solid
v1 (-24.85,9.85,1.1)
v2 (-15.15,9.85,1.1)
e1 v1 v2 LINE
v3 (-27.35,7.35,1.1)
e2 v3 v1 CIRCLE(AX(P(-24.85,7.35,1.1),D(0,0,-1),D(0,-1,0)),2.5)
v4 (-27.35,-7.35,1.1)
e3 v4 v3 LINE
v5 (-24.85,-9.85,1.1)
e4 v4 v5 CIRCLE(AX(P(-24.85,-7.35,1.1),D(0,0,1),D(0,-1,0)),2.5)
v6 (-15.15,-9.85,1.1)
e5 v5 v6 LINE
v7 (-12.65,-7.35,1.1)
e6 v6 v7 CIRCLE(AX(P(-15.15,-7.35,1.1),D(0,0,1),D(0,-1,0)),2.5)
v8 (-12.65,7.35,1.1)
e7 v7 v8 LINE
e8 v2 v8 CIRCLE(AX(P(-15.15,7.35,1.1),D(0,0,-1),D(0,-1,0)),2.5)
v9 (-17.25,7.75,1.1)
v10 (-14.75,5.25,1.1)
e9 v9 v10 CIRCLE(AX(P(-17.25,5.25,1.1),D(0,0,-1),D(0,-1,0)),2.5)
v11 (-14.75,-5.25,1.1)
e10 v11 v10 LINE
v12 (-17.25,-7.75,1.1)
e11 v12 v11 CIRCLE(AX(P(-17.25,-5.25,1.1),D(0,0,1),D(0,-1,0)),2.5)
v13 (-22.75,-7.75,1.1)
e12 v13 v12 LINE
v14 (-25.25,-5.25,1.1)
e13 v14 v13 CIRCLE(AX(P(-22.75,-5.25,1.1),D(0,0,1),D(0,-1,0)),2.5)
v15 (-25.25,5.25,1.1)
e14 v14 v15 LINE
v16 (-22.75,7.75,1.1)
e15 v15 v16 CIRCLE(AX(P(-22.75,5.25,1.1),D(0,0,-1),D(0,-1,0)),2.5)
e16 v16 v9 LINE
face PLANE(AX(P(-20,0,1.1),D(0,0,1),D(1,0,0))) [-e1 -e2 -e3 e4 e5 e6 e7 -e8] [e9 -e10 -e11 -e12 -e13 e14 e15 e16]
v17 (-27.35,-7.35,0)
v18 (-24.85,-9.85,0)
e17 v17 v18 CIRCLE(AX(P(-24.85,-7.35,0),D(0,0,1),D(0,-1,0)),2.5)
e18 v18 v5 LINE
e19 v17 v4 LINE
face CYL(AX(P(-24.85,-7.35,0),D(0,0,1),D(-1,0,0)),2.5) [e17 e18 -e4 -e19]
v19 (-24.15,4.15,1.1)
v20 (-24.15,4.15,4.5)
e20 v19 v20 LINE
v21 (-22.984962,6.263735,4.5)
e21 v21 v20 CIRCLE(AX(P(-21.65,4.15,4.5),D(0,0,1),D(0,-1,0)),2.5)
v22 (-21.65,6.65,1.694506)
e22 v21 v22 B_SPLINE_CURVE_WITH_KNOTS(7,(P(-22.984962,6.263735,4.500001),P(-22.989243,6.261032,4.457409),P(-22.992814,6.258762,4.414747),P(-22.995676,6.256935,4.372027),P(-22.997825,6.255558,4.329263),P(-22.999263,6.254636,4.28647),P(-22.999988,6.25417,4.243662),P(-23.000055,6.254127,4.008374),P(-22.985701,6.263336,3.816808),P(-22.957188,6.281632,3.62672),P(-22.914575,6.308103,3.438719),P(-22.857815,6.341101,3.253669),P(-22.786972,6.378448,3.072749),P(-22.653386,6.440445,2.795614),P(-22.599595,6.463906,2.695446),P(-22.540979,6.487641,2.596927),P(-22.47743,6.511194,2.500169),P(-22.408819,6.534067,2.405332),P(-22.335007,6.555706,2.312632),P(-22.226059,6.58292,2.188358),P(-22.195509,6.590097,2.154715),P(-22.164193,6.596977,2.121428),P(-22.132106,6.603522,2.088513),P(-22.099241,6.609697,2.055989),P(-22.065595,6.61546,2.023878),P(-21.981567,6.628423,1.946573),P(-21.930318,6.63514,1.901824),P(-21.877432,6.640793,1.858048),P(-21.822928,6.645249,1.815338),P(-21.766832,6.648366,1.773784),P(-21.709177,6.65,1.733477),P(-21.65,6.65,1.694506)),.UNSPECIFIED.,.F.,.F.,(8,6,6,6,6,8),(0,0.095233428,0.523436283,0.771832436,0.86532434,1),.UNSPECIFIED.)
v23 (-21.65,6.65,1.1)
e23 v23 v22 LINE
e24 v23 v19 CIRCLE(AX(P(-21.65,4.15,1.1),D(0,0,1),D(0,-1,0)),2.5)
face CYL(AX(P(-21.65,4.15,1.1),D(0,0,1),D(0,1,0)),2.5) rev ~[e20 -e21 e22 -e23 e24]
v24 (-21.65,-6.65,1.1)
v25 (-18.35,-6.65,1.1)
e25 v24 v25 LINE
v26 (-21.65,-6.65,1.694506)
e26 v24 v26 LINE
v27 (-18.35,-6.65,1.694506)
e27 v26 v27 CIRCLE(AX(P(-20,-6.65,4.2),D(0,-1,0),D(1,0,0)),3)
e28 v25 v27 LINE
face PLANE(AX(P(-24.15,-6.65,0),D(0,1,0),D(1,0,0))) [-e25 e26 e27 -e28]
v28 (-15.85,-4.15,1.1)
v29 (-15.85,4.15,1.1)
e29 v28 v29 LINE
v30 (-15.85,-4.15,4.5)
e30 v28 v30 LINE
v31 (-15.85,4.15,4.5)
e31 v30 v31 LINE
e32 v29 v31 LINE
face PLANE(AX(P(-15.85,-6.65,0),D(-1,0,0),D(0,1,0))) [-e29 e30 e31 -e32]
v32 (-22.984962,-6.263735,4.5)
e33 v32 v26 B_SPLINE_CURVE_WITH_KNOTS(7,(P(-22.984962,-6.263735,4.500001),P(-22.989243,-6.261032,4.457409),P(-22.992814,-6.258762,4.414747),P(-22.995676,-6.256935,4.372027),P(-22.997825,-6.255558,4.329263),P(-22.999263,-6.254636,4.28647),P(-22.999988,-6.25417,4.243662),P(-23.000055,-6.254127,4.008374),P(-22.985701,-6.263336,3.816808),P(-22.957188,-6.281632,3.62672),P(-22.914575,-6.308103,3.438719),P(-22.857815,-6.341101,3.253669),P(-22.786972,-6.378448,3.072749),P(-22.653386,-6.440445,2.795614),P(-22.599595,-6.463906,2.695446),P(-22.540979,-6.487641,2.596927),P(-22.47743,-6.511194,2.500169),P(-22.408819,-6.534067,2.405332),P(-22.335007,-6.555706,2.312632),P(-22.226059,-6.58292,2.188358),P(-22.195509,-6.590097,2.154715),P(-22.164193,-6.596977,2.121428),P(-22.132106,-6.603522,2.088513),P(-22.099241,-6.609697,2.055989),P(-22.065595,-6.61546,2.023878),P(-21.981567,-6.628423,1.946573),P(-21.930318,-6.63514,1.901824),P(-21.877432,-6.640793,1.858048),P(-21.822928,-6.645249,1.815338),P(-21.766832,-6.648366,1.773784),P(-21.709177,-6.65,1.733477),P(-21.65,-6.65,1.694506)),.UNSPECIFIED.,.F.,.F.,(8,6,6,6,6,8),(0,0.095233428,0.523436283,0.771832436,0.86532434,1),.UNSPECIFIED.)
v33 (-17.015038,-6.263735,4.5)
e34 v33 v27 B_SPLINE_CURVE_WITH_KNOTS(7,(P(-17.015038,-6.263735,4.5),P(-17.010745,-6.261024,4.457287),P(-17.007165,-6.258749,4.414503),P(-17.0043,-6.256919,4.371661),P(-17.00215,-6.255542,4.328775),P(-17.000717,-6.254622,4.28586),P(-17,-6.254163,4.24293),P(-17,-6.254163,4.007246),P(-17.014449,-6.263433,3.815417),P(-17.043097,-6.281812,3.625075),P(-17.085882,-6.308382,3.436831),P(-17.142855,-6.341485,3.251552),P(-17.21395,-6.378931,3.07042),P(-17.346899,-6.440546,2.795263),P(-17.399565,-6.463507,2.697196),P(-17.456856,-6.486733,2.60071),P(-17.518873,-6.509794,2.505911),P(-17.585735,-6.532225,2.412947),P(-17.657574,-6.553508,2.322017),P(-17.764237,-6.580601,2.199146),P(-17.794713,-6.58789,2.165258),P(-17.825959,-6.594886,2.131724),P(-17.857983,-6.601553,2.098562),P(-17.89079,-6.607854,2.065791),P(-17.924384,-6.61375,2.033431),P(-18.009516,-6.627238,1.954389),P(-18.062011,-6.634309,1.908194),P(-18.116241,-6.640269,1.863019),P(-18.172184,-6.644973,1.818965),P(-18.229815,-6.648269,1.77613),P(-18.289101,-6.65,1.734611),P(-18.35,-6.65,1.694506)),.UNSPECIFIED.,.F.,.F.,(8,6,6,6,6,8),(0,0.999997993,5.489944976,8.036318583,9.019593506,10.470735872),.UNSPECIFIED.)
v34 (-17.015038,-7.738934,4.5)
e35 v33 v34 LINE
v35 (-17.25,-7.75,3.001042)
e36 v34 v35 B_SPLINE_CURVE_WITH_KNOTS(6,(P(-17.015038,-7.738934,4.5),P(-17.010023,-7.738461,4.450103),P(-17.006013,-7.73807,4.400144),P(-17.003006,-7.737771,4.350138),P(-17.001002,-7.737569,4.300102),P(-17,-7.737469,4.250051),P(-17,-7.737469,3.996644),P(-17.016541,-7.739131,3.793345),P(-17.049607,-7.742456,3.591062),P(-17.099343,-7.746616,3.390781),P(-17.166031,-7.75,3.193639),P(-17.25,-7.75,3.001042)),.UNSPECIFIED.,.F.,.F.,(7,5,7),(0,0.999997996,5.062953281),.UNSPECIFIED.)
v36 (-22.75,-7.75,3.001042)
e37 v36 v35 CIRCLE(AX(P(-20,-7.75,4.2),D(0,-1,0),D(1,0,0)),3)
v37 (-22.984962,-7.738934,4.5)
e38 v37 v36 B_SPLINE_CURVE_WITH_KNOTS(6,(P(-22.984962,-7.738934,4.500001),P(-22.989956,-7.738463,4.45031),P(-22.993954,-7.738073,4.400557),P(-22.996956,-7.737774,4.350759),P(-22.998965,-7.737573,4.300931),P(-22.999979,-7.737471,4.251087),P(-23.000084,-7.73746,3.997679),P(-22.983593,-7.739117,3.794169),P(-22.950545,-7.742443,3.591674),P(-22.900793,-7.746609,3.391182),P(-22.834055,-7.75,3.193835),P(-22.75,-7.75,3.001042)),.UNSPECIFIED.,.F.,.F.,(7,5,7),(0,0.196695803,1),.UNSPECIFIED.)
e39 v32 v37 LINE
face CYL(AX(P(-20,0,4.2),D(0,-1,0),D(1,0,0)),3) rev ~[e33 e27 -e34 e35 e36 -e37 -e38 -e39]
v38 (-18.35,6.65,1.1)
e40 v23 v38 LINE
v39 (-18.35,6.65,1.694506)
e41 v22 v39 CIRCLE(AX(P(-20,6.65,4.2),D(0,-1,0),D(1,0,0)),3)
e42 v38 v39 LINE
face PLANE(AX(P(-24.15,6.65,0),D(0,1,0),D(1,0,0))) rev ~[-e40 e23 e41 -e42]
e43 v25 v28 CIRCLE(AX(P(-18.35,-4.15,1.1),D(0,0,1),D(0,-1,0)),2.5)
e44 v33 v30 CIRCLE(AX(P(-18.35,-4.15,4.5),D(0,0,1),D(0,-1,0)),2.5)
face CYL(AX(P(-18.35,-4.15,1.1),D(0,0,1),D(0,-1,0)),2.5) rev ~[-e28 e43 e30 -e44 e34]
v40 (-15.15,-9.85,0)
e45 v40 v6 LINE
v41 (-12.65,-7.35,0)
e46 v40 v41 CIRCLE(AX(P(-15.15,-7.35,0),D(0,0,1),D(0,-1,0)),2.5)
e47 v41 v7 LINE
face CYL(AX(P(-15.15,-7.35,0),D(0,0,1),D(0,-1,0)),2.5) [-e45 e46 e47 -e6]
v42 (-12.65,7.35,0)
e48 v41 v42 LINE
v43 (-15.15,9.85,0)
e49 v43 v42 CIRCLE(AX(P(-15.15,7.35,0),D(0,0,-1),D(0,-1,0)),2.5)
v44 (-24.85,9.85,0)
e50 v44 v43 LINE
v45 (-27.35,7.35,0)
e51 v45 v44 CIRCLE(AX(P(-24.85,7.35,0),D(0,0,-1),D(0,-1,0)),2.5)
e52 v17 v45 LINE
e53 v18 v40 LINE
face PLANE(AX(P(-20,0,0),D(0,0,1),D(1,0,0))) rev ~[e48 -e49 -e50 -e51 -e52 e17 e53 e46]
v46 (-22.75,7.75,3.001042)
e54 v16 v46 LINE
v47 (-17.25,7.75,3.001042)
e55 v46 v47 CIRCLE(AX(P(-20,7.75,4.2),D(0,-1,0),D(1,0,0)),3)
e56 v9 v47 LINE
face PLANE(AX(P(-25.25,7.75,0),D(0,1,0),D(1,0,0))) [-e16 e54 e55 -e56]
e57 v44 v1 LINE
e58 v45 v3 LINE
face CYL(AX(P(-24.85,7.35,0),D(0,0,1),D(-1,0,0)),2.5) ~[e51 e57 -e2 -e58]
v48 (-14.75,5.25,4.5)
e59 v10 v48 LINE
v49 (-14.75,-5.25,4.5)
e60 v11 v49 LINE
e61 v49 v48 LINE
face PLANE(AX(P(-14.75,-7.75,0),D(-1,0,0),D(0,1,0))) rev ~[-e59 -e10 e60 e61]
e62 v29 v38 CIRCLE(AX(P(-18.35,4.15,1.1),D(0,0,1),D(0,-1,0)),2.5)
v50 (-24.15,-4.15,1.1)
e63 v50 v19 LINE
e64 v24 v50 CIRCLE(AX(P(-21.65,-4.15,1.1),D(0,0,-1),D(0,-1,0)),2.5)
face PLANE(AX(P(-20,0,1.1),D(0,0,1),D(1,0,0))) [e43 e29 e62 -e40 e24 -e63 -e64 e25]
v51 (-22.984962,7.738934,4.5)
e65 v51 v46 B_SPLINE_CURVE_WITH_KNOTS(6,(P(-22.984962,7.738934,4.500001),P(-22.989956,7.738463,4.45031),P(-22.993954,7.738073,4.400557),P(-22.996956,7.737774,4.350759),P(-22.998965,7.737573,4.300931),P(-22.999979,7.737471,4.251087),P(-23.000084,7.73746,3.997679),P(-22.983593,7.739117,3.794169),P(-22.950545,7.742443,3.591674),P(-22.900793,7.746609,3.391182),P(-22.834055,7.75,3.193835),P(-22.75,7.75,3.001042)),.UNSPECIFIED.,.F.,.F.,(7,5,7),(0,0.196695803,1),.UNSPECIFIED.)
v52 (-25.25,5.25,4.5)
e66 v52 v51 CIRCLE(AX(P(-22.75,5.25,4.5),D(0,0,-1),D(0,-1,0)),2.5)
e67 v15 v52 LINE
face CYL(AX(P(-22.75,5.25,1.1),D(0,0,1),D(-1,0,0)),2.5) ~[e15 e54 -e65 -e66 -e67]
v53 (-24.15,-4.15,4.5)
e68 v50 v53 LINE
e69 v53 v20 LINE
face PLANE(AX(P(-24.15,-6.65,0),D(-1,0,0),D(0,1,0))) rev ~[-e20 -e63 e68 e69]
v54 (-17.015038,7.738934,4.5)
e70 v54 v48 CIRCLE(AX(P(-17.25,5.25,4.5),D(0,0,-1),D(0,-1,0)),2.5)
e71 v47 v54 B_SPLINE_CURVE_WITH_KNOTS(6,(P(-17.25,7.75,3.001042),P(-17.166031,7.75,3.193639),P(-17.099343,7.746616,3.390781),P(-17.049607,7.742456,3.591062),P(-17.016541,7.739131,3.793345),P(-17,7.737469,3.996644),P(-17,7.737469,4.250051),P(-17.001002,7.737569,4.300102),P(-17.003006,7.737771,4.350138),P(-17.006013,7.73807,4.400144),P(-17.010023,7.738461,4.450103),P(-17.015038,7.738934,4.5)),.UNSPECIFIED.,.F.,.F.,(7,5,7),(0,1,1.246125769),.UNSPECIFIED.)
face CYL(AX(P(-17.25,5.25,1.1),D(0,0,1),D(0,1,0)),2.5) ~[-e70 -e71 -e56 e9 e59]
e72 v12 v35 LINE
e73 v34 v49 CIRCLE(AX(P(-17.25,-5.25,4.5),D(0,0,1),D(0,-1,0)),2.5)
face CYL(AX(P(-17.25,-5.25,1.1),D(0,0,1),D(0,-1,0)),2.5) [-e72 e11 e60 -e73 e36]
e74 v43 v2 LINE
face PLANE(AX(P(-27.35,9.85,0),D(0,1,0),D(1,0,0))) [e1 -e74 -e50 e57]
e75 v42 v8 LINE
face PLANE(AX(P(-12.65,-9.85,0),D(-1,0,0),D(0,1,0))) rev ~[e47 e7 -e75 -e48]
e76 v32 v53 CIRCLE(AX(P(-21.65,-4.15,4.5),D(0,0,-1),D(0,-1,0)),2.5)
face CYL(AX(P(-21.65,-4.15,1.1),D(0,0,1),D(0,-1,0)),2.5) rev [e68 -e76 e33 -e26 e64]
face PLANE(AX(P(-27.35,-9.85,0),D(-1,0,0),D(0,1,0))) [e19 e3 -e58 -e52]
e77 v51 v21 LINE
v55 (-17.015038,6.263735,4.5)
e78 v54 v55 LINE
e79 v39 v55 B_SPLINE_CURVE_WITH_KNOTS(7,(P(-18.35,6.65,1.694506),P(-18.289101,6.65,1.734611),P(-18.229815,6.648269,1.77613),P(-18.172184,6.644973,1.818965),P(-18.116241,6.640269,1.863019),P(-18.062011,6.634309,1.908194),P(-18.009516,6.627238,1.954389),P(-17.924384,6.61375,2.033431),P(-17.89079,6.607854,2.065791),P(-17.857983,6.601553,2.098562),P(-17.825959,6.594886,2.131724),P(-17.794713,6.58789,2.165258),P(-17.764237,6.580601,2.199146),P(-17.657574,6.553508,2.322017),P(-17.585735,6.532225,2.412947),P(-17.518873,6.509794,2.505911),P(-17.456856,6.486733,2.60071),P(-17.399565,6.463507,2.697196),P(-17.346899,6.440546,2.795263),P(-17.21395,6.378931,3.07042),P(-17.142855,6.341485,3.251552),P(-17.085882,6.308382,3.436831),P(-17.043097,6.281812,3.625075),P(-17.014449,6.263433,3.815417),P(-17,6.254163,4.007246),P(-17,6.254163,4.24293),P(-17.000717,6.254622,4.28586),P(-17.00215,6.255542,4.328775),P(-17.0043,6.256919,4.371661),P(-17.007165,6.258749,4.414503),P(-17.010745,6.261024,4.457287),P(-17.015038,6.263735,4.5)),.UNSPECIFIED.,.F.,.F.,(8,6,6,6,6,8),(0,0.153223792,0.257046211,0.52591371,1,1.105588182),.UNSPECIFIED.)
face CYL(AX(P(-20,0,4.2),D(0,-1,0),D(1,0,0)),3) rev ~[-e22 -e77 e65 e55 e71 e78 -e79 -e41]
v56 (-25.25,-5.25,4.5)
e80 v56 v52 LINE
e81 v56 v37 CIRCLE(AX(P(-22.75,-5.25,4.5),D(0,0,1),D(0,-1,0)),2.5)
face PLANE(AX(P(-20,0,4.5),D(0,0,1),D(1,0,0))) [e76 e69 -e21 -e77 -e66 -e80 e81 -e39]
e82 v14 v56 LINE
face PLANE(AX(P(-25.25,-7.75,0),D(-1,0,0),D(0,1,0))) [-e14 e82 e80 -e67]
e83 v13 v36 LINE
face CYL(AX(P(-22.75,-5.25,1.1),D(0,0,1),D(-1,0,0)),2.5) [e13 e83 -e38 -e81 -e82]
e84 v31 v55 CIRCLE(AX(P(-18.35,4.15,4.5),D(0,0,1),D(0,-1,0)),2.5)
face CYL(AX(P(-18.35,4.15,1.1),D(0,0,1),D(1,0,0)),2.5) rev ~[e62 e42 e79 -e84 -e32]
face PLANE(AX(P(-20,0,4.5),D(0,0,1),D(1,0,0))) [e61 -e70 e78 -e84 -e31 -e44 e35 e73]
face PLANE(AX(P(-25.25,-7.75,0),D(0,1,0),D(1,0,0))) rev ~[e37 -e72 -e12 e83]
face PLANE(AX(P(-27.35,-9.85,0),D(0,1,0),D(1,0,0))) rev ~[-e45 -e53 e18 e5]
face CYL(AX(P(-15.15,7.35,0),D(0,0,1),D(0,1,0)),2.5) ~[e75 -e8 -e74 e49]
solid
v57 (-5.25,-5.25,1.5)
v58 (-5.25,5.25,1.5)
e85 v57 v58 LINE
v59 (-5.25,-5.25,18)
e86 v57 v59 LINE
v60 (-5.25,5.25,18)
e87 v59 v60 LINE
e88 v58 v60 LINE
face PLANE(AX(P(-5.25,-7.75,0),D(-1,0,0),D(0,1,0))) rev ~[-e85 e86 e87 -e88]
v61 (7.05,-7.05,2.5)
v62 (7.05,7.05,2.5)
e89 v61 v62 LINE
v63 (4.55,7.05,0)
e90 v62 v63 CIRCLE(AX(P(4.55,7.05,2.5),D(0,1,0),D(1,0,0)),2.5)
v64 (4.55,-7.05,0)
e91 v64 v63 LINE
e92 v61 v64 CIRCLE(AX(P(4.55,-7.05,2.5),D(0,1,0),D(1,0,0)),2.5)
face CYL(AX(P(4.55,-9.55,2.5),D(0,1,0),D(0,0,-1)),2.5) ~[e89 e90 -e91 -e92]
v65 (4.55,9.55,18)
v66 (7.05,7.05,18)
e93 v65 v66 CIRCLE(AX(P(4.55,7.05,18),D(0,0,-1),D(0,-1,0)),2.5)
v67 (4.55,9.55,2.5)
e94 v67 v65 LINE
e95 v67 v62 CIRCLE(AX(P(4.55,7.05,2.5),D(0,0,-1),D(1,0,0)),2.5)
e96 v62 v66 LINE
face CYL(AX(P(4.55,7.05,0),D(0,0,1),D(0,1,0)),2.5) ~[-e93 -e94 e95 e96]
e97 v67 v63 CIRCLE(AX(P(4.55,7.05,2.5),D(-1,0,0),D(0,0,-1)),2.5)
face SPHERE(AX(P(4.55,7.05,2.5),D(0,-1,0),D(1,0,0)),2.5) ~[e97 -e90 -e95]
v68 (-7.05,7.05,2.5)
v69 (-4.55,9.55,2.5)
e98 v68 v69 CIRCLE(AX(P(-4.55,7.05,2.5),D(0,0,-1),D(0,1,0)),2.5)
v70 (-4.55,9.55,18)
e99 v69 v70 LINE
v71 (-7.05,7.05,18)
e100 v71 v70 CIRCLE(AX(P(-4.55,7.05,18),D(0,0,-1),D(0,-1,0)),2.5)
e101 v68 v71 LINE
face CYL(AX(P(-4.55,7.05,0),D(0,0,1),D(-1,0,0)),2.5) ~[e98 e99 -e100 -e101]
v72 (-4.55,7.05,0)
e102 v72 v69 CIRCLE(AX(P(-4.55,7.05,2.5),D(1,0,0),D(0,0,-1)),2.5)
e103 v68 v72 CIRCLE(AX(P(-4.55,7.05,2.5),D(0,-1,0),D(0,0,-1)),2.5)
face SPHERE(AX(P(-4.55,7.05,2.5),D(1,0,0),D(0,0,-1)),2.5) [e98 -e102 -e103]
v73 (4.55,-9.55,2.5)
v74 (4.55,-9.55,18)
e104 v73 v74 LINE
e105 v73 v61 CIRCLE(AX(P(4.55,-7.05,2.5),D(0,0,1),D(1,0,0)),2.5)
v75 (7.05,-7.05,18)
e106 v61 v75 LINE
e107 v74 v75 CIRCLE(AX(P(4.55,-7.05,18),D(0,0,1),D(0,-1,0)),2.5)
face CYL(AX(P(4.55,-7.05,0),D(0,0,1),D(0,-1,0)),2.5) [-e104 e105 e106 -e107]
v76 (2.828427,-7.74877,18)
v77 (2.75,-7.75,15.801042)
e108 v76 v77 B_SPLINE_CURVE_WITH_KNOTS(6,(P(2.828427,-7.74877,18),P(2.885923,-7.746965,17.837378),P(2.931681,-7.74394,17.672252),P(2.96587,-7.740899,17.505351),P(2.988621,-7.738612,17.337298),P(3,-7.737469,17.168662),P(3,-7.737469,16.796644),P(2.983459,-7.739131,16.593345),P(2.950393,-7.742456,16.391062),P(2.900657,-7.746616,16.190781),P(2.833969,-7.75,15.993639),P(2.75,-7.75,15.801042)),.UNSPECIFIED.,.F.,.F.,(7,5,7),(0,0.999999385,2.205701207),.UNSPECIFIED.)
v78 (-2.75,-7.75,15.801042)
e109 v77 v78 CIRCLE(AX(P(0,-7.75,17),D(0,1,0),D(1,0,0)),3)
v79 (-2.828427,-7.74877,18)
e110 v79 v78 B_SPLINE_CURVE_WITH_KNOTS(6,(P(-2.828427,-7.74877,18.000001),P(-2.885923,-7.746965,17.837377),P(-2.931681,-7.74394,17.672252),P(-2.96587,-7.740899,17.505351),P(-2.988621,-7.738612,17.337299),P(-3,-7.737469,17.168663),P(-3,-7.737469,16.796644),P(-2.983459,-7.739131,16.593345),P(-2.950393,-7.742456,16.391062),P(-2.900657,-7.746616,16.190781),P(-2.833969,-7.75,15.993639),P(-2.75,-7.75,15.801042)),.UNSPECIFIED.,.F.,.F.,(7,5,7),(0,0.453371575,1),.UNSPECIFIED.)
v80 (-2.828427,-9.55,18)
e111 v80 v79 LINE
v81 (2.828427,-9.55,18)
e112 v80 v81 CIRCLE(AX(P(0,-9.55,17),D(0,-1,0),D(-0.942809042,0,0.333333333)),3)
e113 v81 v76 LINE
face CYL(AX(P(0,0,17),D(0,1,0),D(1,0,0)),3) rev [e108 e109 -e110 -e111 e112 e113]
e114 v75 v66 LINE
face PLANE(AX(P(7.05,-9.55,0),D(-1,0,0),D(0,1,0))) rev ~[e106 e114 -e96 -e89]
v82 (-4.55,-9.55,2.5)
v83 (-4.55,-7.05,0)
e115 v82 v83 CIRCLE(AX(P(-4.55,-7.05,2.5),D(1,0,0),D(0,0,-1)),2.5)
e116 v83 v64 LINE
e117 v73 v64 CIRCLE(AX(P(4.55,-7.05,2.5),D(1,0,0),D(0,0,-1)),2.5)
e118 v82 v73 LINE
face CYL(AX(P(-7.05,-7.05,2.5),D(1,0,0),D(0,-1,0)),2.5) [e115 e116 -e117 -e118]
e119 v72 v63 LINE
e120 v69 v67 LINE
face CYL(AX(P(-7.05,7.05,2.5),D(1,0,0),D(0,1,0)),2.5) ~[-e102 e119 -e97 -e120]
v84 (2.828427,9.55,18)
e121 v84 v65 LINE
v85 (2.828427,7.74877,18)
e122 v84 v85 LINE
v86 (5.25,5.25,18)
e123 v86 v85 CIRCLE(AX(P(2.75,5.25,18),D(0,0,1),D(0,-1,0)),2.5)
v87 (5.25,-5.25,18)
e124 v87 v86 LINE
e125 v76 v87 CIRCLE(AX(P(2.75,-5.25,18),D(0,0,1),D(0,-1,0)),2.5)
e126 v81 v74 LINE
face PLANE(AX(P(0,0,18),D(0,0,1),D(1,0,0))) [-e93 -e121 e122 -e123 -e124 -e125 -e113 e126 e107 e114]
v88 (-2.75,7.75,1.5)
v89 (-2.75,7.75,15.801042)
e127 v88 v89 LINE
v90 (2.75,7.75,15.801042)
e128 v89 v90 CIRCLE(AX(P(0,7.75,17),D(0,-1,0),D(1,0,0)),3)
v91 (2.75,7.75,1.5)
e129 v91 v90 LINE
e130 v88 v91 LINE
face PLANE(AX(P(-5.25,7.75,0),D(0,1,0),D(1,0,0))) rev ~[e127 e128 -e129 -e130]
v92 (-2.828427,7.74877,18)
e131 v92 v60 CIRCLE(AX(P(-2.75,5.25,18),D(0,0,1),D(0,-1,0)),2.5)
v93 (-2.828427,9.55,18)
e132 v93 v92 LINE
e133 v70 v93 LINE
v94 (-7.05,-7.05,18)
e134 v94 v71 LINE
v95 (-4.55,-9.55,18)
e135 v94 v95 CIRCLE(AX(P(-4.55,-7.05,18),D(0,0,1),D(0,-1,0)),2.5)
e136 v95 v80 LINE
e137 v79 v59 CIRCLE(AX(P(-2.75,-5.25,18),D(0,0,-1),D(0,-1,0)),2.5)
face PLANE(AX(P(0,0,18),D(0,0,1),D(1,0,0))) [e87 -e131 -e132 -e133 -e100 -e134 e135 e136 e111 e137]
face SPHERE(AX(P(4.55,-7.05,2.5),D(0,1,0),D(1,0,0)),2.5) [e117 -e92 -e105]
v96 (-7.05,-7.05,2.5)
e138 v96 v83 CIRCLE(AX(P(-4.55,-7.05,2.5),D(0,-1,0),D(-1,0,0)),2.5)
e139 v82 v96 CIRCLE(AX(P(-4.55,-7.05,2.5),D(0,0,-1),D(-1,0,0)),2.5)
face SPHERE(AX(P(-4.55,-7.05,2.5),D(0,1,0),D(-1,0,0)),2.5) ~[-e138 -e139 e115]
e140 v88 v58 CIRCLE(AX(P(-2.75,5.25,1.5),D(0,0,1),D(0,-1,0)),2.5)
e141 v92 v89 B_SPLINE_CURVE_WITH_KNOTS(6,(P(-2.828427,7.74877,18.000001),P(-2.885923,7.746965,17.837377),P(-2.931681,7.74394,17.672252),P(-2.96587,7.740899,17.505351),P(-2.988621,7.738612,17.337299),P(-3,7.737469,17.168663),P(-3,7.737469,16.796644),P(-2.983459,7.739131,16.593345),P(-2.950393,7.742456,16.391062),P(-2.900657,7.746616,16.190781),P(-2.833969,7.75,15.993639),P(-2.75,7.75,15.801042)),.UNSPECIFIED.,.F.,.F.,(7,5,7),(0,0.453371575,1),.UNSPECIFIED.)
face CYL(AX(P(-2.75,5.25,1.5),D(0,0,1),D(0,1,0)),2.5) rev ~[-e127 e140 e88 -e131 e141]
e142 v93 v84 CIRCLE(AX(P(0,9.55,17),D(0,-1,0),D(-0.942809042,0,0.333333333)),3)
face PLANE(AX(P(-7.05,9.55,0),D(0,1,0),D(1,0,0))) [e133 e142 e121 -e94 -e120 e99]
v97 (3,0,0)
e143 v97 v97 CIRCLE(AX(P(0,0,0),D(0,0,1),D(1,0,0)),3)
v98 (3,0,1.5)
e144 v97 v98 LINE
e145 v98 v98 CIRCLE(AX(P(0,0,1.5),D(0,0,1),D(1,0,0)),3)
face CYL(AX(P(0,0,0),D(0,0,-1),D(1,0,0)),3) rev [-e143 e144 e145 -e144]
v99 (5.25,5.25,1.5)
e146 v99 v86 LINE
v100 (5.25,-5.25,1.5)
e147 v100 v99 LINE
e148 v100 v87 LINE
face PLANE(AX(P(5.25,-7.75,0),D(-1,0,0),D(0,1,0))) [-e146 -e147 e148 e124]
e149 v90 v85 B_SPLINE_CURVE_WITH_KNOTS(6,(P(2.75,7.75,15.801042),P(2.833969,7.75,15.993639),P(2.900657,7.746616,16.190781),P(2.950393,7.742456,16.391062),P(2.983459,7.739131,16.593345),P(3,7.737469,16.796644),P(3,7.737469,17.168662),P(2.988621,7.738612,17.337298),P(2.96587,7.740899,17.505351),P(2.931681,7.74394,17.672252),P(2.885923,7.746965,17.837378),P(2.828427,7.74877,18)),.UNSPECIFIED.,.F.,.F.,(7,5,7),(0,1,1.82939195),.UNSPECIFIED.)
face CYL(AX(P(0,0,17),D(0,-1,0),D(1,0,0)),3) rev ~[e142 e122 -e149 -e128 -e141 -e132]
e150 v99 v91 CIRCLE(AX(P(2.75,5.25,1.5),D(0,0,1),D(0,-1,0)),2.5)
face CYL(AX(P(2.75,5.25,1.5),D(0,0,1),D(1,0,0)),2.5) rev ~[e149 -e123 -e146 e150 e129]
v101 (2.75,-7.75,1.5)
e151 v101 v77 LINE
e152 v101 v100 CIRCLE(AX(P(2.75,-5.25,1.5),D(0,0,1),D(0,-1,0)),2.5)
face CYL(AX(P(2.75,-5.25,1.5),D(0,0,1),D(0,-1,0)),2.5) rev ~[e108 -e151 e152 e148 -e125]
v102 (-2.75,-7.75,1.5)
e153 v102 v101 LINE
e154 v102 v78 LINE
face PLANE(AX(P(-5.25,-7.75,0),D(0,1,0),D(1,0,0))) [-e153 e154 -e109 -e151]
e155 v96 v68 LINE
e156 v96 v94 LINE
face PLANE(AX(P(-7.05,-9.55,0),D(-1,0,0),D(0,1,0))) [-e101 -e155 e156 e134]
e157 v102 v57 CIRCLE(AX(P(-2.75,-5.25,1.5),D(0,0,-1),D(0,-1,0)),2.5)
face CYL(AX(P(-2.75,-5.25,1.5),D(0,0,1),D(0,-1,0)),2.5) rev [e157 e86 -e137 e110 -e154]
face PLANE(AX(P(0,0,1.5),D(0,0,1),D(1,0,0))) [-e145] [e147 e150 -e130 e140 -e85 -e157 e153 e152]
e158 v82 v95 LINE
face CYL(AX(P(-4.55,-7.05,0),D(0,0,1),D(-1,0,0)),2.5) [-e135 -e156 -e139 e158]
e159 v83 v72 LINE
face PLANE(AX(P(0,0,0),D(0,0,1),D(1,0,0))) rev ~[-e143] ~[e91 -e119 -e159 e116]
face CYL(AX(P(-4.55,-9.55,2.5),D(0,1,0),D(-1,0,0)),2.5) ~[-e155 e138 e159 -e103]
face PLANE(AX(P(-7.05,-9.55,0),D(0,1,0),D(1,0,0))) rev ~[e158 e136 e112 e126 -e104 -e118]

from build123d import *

# Parameters (mm, degrees)
F0_W     = 10.5
F0_H     = 15.5
F0_R     = 3
F1_DEPTH = 1.5
F0_W_2   = 14.1
F0_H_2   = 19.1
F2_DEPTH = 18
F0_W_3   = 14.7
F0_H_3   = 19.7
F0_W_4   = 8.3
F0_H_4   = 13.3
F3_DEPTH = 1.1
F4_DEPTH = 4.5
F5_R     = 2.5
F5_2_R   = 2.5
F6_R     = 3
F7_DEPTH = 12.5


with BuildPart() as f1:
    # F0 (on Top) → F1 (new body)
    with BuildSketch(Plane.XY):
        Rectangle(F0_W, F0_H)
        Circle(F0_R, mode=Mode.SUBTRACT)
    extrude(amount=F1_DEPTH)

    # F0 (on Top) → F2 (join)
    with BuildSketch(Plane.XY):
        Rectangle(F0_W_2, F0_H_2)
        Rectangle(F0_W, F0_H, mode=Mode.SUBTRACT)
    extrude(amount=F2_DEPTH)

    # F5
    f5_edges = [f1.edges().sort_by_distance(p)[0] for p in [
        (7.05, 0, 0),
        (7.05, 9.55, 9),
        (0, 9.55, 0),
        (-7.05, 0, 0),
        (7.05, -9.55, 9),
        (-7.05, -9.55, 9),
        (0, -9.55, 0),
        (-7.05, 9.55, 9),
        (-5.25, 7.75, 9.75),
        (5.25, 7.75, 9.75),
        (5.25, -7.75, 9.75),
        (-5.25, -7.75, 9.75),
    ]]
    fillet(f5_edges, radius=F5_R)


with BuildPart() as f3:
    # F0 (on Top) → F3 (new body)
    with BuildSketch(Plane.XY):
        with Locations((-20, 0)):
            Rectangle(F0_W_3, F0_H_3)
        with Locations((-20, 0)):
            Rectangle(F0_W, F0_H, mode=Mode.SUBTRACT)
        with Locations((-20, 0)):
            Rectangle(F0_W_4, F0_H_4)
    extrude(amount=F3_DEPTH)

    # F0 (on Top) → F4 (join)
    with BuildSketch(Plane.XY):
        with Locations((-20, 0)):
            Rectangle(F0_W, F0_H)
        with Locations((-20, 0)):
            Rectangle(F0_W_4, F0_H_4, mode=Mode.SUBTRACT)
    extrude(amount=F4_DEPTH)

    # F5#2
    f5_2_edges = [f3.edges().sort_by_distance(p)[0] for p in [
        (-12.65, -9.85, 0.55),
        (-27.35, -9.85, 0.55),
        (-14.75, -7.75, 2.8),
        (-15.85, -6.65, 2.8),
        (-15.85, 6.65, 2.8),
        (-24.15, 6.65, 2.8),
        (-12.65, 9.85, 0.55),
        (-14.75, 7.75, 2.8),
        (-24.15, -6.65, 2.8),
        (-25.25, 7.75, 2.8),
        (-27.35, 9.85, 0.55),
        (-25.25, -7.75, 2.8),
    ]]
    fillet(f5_2_edges, radius=F5_2_R)


with BuildPart() as f7_tool:
    # F6 (on Front) → F7 (new body, symmetric)
    with BuildSketch(Plane.XZ):
        with Locations((0, 17)):
            Circle(F6_R)
        with Locations((-20, 4.2)):
            Circle(F6_R)
    extrude(amount=F7_DEPTH, both=True)


with BuildPart() as f1_1:
    add(f1.part)

    # F7: cut by f7_tool
    add(f7_tool.part, mode=Mode.SUBTRACT)


with BuildPart() as f3_1:
    add(f3.part)

    # F7: cut by f7_tool
    add(f7_tool.part, mode=Mode.SUBTRACT)


solid = Compound([f1_1.part, f3_1.part])
